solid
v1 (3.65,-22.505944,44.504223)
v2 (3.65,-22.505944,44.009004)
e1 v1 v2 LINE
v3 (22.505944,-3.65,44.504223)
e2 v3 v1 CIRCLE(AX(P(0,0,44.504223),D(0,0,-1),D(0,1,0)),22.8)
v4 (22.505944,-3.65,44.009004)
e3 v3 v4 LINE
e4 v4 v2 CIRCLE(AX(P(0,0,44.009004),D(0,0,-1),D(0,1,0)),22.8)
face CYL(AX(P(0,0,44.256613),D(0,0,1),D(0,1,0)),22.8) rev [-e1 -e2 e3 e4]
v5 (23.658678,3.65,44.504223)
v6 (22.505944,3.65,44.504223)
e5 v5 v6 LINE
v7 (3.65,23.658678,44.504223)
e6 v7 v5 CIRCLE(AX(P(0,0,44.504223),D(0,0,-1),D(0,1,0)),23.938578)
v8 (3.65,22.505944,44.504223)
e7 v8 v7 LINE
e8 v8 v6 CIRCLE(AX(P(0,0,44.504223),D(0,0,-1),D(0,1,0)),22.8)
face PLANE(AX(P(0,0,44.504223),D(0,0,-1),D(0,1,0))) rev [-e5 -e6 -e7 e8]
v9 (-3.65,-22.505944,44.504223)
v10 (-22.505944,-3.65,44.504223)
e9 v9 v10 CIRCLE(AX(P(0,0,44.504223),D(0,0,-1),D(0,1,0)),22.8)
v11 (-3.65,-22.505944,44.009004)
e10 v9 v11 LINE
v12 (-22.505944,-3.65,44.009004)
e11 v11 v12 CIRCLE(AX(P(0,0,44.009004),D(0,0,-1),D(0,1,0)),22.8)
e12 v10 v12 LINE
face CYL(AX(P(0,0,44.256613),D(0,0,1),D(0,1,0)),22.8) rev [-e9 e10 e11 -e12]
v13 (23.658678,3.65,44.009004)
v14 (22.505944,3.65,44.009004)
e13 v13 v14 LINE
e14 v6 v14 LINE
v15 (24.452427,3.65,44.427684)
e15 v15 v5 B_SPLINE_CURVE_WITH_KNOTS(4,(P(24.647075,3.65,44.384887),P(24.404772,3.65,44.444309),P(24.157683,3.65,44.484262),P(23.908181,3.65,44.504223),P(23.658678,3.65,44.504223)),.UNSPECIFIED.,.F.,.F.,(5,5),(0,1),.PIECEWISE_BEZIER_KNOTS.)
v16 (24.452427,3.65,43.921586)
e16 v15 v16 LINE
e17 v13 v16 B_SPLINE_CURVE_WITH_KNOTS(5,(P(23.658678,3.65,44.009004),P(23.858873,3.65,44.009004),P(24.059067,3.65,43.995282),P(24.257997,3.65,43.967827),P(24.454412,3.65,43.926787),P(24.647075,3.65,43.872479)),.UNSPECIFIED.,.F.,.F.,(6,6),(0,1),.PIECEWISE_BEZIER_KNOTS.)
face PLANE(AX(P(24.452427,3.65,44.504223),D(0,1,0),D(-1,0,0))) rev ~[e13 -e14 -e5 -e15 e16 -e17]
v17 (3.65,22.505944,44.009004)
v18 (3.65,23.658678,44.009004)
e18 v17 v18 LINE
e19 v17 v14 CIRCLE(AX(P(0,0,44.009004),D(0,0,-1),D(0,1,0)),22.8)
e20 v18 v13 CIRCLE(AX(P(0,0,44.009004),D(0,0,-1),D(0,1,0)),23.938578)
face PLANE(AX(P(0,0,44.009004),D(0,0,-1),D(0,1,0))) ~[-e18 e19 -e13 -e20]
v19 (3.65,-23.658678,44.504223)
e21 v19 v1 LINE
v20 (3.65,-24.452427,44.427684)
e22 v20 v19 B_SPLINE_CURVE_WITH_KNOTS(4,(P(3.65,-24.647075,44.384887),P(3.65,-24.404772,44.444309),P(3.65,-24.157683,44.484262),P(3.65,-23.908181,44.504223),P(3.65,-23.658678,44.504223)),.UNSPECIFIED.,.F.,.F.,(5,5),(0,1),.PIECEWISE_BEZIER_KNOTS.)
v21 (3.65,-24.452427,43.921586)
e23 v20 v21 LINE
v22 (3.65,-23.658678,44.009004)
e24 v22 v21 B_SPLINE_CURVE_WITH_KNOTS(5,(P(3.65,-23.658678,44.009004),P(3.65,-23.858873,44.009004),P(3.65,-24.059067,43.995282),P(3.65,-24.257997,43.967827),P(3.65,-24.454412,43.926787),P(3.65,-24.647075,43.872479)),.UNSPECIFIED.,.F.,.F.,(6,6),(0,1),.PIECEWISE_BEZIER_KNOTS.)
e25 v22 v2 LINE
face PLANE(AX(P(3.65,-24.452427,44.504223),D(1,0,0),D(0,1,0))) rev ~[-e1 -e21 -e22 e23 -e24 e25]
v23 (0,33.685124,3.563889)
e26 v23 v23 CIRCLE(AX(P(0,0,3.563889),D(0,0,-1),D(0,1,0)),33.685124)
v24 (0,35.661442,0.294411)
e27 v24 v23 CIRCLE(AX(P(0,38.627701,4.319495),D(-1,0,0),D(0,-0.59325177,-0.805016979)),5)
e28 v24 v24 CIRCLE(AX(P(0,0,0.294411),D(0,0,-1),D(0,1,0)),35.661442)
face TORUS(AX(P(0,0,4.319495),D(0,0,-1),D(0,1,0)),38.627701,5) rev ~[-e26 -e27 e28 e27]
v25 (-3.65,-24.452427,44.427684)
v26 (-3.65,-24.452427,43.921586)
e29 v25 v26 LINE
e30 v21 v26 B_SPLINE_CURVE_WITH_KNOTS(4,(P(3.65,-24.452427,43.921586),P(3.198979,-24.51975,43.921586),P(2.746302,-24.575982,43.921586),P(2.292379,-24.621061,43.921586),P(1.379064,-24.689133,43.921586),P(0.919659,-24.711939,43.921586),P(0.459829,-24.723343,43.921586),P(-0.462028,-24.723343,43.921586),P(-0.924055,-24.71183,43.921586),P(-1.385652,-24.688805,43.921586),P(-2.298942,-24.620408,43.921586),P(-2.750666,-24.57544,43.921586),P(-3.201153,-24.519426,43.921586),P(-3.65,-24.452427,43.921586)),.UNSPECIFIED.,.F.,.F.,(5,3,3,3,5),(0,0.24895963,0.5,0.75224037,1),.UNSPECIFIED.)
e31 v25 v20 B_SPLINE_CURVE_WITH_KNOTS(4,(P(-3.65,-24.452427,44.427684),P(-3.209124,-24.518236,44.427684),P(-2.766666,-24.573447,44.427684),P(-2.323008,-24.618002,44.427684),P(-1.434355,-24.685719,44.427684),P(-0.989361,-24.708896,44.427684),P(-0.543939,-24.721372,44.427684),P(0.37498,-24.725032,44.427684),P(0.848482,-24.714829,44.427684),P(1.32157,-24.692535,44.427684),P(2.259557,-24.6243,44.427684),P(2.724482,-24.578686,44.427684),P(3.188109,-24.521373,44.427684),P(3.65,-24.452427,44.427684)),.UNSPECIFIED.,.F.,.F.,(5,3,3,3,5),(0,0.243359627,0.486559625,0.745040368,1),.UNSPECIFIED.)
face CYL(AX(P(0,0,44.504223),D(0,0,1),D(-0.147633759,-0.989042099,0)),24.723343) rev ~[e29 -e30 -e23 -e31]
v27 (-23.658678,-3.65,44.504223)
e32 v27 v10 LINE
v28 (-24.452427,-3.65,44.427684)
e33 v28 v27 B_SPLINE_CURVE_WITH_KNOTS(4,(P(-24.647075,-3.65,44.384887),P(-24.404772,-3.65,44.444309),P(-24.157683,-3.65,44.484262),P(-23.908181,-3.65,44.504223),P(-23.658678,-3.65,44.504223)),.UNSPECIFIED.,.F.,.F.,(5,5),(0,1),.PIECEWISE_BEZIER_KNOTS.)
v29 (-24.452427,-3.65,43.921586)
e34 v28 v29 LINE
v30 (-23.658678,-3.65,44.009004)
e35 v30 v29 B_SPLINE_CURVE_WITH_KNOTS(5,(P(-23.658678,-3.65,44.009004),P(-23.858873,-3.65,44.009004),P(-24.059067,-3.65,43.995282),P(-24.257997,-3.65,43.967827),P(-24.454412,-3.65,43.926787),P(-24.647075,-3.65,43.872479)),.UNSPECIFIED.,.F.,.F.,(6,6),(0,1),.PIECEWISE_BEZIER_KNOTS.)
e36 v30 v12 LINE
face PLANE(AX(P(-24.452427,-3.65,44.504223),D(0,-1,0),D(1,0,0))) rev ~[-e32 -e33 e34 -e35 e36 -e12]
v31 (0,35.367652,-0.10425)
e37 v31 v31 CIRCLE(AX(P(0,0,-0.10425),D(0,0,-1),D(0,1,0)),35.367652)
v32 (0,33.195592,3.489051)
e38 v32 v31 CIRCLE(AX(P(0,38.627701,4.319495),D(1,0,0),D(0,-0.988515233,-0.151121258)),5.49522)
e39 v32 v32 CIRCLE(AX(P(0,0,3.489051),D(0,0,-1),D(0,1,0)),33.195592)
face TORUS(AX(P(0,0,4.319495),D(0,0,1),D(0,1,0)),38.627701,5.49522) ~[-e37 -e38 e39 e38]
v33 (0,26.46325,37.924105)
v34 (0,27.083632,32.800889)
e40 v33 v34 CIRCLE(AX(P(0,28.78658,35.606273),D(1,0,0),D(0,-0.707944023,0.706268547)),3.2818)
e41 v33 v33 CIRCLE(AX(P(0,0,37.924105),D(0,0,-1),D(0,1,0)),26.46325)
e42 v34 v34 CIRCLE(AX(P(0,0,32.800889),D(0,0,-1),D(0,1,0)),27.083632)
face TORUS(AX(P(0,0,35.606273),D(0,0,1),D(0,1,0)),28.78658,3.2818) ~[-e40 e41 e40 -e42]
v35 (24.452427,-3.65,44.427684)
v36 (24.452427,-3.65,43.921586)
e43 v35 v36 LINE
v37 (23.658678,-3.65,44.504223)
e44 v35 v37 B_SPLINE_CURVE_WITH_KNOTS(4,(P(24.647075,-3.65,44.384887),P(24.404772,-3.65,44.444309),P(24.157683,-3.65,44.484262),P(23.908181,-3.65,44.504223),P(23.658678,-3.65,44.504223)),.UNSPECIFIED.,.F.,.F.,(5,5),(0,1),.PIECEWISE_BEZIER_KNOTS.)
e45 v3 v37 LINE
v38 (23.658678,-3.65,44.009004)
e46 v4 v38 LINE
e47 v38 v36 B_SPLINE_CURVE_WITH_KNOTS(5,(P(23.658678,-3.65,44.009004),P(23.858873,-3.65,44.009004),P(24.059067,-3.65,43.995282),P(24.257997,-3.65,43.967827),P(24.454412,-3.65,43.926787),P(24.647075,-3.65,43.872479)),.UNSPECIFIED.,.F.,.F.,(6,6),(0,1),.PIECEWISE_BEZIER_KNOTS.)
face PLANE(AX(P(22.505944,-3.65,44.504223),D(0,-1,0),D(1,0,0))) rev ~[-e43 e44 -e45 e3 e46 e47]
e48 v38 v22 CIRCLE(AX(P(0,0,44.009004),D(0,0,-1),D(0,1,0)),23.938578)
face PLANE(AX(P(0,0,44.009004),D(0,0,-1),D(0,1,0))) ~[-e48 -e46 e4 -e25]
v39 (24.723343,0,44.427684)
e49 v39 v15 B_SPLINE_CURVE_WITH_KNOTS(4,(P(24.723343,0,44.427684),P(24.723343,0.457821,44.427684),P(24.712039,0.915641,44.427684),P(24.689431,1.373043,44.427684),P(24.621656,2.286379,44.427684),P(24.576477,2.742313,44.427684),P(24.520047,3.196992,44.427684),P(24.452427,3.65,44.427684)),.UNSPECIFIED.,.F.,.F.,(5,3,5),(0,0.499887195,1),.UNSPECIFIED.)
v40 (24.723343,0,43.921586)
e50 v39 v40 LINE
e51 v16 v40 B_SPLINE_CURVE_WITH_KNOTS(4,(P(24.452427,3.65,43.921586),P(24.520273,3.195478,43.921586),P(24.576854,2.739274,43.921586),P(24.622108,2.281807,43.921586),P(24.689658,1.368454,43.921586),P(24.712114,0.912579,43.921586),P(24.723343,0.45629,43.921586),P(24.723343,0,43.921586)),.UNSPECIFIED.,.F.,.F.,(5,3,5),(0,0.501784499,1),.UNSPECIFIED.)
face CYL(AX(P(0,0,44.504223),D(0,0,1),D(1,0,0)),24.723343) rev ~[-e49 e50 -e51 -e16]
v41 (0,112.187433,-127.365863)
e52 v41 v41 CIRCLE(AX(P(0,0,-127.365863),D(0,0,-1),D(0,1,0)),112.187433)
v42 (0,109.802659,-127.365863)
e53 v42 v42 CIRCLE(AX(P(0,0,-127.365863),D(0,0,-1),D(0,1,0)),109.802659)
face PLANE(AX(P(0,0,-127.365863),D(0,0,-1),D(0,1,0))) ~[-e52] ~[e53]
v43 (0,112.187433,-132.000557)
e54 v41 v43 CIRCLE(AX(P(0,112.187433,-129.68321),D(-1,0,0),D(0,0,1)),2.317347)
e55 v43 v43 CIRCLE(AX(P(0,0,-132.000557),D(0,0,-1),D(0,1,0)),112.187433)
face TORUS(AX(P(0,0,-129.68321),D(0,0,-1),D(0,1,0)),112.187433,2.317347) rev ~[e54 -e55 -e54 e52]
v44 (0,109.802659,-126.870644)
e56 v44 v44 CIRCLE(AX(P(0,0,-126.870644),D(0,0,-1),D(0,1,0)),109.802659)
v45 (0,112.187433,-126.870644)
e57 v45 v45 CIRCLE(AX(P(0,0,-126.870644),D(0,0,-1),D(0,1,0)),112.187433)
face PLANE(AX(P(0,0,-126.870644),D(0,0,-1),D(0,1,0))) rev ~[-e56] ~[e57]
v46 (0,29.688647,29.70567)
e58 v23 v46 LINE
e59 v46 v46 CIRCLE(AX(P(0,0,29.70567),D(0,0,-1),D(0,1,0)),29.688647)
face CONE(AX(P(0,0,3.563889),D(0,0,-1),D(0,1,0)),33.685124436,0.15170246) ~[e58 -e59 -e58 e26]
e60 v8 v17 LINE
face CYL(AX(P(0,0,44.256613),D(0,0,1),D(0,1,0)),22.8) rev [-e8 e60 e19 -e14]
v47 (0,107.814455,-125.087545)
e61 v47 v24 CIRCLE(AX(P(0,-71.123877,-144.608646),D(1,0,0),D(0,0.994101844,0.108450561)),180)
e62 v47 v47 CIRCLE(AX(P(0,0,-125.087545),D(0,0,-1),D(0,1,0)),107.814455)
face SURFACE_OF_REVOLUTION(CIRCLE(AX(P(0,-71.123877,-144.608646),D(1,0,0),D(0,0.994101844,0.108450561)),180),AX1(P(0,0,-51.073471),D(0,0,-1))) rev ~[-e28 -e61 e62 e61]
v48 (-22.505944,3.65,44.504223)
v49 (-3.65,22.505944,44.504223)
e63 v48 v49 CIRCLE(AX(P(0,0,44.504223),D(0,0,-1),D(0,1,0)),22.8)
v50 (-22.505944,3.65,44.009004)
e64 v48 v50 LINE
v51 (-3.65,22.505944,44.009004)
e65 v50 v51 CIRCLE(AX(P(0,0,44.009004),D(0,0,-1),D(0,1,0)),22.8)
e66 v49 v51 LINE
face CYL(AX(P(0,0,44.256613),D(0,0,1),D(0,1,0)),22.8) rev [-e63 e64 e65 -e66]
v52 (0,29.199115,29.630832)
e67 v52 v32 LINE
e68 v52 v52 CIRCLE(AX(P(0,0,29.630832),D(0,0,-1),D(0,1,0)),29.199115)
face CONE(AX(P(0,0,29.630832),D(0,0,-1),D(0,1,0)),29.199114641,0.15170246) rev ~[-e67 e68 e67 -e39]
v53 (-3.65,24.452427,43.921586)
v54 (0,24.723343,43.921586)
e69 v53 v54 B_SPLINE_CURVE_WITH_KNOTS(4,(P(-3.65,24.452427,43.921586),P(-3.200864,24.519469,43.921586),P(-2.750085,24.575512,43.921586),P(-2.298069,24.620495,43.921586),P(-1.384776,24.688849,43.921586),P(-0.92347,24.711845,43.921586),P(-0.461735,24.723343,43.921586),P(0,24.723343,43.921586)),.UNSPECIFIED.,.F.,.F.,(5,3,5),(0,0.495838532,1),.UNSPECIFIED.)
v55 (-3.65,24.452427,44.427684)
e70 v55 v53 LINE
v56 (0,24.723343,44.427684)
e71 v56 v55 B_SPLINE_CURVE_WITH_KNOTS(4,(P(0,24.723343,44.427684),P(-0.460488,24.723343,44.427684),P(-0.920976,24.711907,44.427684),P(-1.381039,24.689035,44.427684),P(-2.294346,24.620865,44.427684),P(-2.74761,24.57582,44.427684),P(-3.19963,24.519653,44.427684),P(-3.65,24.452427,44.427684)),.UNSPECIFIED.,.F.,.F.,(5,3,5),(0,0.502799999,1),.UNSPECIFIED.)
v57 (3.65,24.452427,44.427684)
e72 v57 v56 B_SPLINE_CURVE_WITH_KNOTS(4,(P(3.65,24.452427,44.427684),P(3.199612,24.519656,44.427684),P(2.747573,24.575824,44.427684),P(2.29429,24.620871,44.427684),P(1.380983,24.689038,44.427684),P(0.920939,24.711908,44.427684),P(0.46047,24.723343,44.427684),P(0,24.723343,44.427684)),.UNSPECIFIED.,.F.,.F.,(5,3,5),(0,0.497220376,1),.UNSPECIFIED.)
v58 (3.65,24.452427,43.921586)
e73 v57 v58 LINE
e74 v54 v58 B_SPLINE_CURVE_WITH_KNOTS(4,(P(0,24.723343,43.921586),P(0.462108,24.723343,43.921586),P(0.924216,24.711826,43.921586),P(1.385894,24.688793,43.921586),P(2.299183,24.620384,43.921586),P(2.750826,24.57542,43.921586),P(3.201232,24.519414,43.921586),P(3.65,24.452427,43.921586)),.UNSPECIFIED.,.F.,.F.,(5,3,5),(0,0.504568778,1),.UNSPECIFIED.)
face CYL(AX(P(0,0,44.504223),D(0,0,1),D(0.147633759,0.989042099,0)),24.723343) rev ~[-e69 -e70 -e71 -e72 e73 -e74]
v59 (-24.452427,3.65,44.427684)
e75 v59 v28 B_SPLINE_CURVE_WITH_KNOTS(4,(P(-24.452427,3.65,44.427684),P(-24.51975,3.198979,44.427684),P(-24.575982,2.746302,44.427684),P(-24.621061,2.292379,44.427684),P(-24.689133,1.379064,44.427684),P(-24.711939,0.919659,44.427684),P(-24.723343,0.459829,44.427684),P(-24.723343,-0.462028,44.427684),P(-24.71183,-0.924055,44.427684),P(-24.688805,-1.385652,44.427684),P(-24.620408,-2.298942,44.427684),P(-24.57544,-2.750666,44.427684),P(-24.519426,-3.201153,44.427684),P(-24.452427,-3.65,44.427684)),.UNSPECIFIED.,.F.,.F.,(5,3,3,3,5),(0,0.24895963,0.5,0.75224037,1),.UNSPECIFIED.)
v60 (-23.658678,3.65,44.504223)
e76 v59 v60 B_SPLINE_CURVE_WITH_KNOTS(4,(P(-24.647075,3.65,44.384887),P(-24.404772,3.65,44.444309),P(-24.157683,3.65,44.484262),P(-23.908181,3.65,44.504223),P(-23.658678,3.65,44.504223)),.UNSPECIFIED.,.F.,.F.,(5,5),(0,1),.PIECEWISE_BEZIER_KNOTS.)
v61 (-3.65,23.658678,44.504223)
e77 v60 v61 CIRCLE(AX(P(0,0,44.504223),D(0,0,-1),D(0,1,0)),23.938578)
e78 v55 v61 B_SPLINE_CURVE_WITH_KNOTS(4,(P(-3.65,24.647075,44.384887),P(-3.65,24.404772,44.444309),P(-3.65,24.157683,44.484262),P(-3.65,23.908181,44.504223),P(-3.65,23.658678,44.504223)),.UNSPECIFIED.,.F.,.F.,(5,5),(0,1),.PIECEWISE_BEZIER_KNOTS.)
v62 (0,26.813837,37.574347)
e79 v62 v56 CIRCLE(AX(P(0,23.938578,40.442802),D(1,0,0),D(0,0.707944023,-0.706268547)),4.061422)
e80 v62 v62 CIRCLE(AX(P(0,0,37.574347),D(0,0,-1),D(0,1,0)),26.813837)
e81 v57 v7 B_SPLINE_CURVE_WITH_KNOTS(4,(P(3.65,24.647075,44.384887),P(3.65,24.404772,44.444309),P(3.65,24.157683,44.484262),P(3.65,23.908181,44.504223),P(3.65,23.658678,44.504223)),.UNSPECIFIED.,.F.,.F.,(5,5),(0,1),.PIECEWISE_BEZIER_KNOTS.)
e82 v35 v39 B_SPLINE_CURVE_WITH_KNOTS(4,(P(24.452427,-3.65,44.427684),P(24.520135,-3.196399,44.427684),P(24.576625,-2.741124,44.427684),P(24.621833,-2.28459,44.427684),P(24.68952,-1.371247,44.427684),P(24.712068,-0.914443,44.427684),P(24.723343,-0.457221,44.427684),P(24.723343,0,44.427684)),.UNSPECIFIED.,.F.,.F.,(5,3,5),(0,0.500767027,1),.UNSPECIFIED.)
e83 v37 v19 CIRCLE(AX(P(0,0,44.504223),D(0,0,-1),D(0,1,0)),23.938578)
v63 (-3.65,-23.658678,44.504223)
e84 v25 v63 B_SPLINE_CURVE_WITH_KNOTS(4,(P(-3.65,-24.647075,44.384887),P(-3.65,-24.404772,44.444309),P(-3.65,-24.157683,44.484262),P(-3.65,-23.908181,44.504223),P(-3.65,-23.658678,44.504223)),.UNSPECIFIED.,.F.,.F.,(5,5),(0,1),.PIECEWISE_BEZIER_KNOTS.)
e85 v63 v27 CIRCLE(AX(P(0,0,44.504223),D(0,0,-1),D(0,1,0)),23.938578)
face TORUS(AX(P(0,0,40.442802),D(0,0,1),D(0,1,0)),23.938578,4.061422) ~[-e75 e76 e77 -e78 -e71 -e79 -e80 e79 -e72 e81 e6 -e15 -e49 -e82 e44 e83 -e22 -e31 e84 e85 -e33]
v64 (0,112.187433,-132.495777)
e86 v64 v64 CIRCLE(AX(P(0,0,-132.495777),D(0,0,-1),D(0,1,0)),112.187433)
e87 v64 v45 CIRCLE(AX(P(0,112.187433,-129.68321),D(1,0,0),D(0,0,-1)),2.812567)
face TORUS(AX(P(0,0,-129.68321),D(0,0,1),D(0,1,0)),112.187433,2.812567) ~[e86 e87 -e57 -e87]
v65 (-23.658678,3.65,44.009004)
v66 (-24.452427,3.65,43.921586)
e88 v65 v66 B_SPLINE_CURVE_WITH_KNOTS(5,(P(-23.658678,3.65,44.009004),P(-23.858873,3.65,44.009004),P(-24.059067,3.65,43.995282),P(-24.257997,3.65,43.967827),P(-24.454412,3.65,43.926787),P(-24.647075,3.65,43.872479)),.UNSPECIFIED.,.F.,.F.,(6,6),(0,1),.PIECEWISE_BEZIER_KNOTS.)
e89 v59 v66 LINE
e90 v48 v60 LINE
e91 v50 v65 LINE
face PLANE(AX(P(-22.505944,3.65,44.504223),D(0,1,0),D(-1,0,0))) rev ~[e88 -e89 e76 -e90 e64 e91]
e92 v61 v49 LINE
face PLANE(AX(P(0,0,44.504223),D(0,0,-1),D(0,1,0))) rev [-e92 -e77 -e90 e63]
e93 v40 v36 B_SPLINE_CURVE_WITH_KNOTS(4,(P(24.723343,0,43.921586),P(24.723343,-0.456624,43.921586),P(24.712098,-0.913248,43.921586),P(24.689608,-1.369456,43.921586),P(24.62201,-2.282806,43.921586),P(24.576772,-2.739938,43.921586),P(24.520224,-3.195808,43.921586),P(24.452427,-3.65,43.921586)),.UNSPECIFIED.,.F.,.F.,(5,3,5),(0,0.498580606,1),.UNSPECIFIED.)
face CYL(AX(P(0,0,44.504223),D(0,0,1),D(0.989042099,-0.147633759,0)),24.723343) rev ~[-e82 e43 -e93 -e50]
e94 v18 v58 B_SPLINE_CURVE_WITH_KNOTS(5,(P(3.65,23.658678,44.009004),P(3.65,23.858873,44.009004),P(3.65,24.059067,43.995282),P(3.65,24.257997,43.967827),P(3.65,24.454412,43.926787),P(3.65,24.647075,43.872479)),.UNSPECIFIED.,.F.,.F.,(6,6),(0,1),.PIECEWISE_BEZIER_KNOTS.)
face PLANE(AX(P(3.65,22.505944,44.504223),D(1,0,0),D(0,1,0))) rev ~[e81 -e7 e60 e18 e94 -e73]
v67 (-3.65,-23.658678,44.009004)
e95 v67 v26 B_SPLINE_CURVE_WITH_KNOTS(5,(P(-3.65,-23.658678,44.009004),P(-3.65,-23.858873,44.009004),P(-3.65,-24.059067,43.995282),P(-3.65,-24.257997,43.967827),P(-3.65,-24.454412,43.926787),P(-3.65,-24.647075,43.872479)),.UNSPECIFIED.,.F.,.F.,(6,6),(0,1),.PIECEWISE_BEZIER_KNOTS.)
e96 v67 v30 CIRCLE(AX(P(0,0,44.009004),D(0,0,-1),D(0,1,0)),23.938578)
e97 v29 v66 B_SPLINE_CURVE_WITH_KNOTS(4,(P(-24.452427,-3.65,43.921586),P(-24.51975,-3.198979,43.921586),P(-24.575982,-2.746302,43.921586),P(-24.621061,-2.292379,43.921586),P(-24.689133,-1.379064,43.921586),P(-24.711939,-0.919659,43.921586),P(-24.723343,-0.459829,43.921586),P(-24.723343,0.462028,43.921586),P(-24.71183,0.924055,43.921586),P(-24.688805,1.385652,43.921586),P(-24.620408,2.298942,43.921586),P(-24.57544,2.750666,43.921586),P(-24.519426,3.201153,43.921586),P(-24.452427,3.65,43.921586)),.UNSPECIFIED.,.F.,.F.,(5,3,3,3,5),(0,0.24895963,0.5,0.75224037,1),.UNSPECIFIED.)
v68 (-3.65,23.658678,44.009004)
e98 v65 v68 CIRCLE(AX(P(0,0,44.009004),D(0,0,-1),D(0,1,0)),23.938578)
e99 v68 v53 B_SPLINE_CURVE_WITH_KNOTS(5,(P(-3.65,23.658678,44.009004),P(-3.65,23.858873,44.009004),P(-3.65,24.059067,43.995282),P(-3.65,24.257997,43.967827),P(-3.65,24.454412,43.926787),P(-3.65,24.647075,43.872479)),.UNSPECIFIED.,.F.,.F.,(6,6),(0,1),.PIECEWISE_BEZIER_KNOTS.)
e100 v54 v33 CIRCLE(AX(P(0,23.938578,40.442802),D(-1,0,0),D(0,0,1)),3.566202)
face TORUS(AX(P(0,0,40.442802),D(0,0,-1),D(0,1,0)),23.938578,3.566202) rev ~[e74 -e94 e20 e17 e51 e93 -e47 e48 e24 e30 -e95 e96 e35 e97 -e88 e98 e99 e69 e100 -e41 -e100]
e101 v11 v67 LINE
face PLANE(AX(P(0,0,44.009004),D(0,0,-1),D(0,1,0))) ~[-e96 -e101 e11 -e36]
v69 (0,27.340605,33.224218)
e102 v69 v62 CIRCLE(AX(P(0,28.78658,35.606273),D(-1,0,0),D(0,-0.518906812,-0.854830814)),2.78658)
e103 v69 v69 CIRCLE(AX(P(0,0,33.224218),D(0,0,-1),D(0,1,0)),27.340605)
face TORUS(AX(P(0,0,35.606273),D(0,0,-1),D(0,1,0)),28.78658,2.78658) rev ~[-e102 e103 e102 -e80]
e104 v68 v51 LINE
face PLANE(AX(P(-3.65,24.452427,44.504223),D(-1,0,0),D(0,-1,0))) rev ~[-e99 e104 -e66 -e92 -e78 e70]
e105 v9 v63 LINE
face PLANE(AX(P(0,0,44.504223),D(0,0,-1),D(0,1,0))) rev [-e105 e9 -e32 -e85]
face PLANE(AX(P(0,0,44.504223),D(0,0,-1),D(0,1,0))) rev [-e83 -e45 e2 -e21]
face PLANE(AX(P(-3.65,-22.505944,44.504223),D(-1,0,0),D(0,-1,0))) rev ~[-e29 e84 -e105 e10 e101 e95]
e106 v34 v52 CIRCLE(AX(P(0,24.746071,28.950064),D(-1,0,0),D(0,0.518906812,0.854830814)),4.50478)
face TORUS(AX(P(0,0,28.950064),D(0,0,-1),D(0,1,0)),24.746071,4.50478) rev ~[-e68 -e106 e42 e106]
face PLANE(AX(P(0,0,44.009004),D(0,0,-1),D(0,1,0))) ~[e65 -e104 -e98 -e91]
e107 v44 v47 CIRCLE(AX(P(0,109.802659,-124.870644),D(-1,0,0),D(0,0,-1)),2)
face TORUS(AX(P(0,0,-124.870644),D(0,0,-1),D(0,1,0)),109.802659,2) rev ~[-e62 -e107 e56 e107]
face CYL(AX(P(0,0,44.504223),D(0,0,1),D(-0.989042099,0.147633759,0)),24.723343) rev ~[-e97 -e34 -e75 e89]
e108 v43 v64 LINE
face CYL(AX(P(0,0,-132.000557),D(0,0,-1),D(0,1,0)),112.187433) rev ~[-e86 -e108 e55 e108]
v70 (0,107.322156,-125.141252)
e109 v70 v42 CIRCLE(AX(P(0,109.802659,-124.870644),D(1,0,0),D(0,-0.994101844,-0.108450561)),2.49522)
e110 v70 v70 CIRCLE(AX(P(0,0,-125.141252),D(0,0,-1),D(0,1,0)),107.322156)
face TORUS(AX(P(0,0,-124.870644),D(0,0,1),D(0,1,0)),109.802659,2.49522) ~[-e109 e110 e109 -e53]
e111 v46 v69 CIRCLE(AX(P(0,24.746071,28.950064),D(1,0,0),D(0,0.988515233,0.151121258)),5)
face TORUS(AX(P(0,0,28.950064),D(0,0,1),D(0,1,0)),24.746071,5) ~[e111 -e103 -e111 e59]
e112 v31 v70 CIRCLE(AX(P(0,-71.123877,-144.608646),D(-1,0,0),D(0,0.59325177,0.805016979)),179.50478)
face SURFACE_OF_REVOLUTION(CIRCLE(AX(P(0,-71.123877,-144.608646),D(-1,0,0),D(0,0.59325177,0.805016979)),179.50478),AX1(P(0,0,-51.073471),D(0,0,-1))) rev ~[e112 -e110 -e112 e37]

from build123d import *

# Parameters (mm, degrees)
F0_W     = 1.1385781698
F0_H     = 0.4952198267
F3_DEPTH = 177.001


with BuildPart() as f1:
    # F0 (on Right) → F1 (revolve)
    with BuildSketch(Plane.YZ):
        with BuildLine():
            ThreePointArc((27.3406048806, 33.2242180528), (26.0202083449, 35.2712863637), (26.8138374804, 37.5743470396))
            ThreePointArc((26.8138374804, 37.5743470396), (27.6899213279, 41.9992628373), (23.9385781698, 44.504223363))
            Line((23.9385781698, 44.504223363), (23.9385781698, 44.0090035363))
            ThreePointArc((23.9385781698, 44.0090035363), (27.2325102078, 41.8094794241), (26.4632495639, 37.9241052268))
            ThreePointArc((26.4632495639, 37.9241052268), (25.5285798636, 35.211753909), (27.083631939, 32.8008888853))
            ThreePointArc((27.083631939, 32.8008888853), (28.4931221916, 31.4505940128), (29.1991146414, 29.6308320297))
            Line((29.1991146414, 29.6308320297), (33.195592094, 3.4890509514))
            ThreePointArc((33.195592094, 3.4890509514), (33.9248979684, 1.4767699692), (35.3676517093, -0.1042497817))
            ThreePointArc((35.3676517093, -0.1042497817), (84.4586299819, -55.0762512585), (107.3221560228, -125.1412515876))
            ThreePointArc((107.3221560228, -125.1412515876), (108.1366911322, -126.7282426403), (109.8026586532, -127.3658634245))
            Line((109.8026586532, -127.3658634245), (112.1874334804, -127.3658634245))
            ThreePointArc((112.1874334804, -127.3658634245), (114.5047801733, -129.6832101174), (112.1874334804, -132.0005568103))
            Line((112.1874334804, -132.0005568103), (112.1874334804, -132.495776637))
            ThreePointArc((112.1874334804, -132.495776637), (115, -129.6832101174), (112.1874334804, -126.8706435978))
            Line((112.1874334804, -126.8706435978), (109.8026586532, -126.8706435978))
            ThreePointArc((109.8026586532, -126.8706435978), (108.4673313981, -126.3595697618), (107.8144549656, -125.0875447197))
            ThreePointArc((107.8144549656, -125.0875447197), (84.8878527694, -54.8292482717), (35.6614417483, 0.2944105873))
            ThreePointArc((35.6614417483, 0.2944105873), (34.3487065107, 1.7329515381), (33.6851244362, 3.5638891945))
            Line((33.6851244362, 3.5638891945), (29.6886469837, 29.7056702729))
            ThreePointArc((29.6886469837, 29.7056702729), (28.9050433197, 31.7254824647), (27.3406048806, 33.2242180528))
        make_face()
        with Locations((23.3692890849, 44.2566134496)):
            Rectangle(F0_W, F0_H)
    revolve(axis=Axis((0, 0, -51.0734710842), (0, 0, -1)))

    # F2 (on face) → F3 (cut, through all)
    with BuildSketch(Plane.XY.offset(44.504223363)):
        with BuildLine():
            Line((-22.5059436594, 3.65), (-23.6586775791, 3.65))
            ThreePointArc((-23.6586775791, 3.65), (-23.9385781698, 0), (-23.6586775791, -3.65))
            Line((-23.6586775791, -3.65), (-22.5059436594, -3.65))
            ThreePointArc((-22.5059436594, -3.65), (-22.8, 0), (-22.5059436594, 3.65))
        make_face()
        with BuildLine():
            Line((-23.6586775791, 3.65), (-24.4524266957, 3.65))
            ThreePointArc((-24.4524266957, 3.65), (-24.7233426402, 0), (-24.4524266957, -3.65))
            Line((-24.4524266957, -3.65), (-23.6586775791, -3.65))
            ThreePointArc((-23.6586775791, -3.65), (-23.9385781698, 0), (-23.6586775791, 3.65))
        make_face()
        with BuildLine():
            Line((3.65, 22.5059436594), (3.65, 23.6586775791))
            ThreePointArc((3.65, 23.6586775791), (0, 23.9385781698), (-3.65, 23.6586775791))
            Line((-3.65, 23.6586775791), (-3.65, 22.5059436594))
            ThreePointArc((-3.65, 22.5059436594), (0, 22.8), (3.65, 22.5059436594))
        make_face()
        with BuildLine():
            Line((3.65, 23.6586775791), (3.65, 24.4524266957))
            ThreePointArc((3.65, 24.4524266957), (0, 24.7233426402), (-3.65, 24.4524266957))
            Line((-3.65, 24.4524266957), (-3.65, 23.6586775791))
            ThreePointArc((-3.65, 23.6586775791), (0, 23.9385781698), (3.65, 23.6586775791))
        make_face()
        with BuildLine():
            ThreePointArc((23.9385781698, 0), (23.8685004495, 1.8303581849), (23.6586775791, 3.65))
            Line((23.6586775791, 3.65), (22.5059436594, 3.65))
            ThreePointArc((22.5059436594, 3.65), (22.7263670154, 1.8309129643), (22.8, 0))
            ThreePointArc((22.8, 0), (22.7263670154, -1.8309129643), (22.5059436594, -3.65))
            Line((22.5059436594, -3.65), (23.6586775791, -3.65))
            ThreePointArc((23.6586775791, -3.65), (23.8685004495, -1.8303581849), (23.9385781698, 0))
        make_face()
        with BuildLine():
            ThreePointArc((24.4524266957, -3.65), (24.6555206281, -1.8300201808), (24.7233426402, 0))
            ThreePointArc((24.7233426402, 0), (24.6555206281, 1.8300201808), (24.4524266957, 3.65))
            Line((24.4524266957, 3.65), (23.6586775791, 3.65))
            ThreePointArc((23.6586775791, 3.65), (23.8685004495, 1.8303581849), (23.9385781698, 0))
            ThreePointArc((23.9385781698, 0), (23.8685004495, -1.8303581849), (23.6586775791, -3.65))
            Line((23.6586775791, -3.65), (24.4524266957, -3.65))
        make_face()
        with BuildLine():
            ThreePointArc((-3.65, -23.6586775791), (0, -23.9385781698), (3.65, -23.6586775791))
            Line((3.65, -23.6586775791), (3.65, -22.5059436594))
            ThreePointArc((3.65, -22.5059436594), (0, -22.8), (-3.65, -22.5059436594))
            Line((-3.65, -22.5059436594), (-3.65, -23.6586775791))
        make_face()
        with BuildLine():
            ThreePointArc((-3.65, -24.4524266957), (0, -24.7233426402), (3.65, -24.4524266957))
            Line((3.65, -24.4524266957), (3.65, -23.6586775791))
            ThreePointArc((3.65, -23.6586775791), (0, -23.9385781698), (-3.65, -23.6586775791))
            Line((-3.65, -23.6586775791), (-3.65, -24.4524266957))
        make_face()
    extrude(amount=-F3_DEPTH, mode=Mode.SUBTRACT)


solid = f1.part
